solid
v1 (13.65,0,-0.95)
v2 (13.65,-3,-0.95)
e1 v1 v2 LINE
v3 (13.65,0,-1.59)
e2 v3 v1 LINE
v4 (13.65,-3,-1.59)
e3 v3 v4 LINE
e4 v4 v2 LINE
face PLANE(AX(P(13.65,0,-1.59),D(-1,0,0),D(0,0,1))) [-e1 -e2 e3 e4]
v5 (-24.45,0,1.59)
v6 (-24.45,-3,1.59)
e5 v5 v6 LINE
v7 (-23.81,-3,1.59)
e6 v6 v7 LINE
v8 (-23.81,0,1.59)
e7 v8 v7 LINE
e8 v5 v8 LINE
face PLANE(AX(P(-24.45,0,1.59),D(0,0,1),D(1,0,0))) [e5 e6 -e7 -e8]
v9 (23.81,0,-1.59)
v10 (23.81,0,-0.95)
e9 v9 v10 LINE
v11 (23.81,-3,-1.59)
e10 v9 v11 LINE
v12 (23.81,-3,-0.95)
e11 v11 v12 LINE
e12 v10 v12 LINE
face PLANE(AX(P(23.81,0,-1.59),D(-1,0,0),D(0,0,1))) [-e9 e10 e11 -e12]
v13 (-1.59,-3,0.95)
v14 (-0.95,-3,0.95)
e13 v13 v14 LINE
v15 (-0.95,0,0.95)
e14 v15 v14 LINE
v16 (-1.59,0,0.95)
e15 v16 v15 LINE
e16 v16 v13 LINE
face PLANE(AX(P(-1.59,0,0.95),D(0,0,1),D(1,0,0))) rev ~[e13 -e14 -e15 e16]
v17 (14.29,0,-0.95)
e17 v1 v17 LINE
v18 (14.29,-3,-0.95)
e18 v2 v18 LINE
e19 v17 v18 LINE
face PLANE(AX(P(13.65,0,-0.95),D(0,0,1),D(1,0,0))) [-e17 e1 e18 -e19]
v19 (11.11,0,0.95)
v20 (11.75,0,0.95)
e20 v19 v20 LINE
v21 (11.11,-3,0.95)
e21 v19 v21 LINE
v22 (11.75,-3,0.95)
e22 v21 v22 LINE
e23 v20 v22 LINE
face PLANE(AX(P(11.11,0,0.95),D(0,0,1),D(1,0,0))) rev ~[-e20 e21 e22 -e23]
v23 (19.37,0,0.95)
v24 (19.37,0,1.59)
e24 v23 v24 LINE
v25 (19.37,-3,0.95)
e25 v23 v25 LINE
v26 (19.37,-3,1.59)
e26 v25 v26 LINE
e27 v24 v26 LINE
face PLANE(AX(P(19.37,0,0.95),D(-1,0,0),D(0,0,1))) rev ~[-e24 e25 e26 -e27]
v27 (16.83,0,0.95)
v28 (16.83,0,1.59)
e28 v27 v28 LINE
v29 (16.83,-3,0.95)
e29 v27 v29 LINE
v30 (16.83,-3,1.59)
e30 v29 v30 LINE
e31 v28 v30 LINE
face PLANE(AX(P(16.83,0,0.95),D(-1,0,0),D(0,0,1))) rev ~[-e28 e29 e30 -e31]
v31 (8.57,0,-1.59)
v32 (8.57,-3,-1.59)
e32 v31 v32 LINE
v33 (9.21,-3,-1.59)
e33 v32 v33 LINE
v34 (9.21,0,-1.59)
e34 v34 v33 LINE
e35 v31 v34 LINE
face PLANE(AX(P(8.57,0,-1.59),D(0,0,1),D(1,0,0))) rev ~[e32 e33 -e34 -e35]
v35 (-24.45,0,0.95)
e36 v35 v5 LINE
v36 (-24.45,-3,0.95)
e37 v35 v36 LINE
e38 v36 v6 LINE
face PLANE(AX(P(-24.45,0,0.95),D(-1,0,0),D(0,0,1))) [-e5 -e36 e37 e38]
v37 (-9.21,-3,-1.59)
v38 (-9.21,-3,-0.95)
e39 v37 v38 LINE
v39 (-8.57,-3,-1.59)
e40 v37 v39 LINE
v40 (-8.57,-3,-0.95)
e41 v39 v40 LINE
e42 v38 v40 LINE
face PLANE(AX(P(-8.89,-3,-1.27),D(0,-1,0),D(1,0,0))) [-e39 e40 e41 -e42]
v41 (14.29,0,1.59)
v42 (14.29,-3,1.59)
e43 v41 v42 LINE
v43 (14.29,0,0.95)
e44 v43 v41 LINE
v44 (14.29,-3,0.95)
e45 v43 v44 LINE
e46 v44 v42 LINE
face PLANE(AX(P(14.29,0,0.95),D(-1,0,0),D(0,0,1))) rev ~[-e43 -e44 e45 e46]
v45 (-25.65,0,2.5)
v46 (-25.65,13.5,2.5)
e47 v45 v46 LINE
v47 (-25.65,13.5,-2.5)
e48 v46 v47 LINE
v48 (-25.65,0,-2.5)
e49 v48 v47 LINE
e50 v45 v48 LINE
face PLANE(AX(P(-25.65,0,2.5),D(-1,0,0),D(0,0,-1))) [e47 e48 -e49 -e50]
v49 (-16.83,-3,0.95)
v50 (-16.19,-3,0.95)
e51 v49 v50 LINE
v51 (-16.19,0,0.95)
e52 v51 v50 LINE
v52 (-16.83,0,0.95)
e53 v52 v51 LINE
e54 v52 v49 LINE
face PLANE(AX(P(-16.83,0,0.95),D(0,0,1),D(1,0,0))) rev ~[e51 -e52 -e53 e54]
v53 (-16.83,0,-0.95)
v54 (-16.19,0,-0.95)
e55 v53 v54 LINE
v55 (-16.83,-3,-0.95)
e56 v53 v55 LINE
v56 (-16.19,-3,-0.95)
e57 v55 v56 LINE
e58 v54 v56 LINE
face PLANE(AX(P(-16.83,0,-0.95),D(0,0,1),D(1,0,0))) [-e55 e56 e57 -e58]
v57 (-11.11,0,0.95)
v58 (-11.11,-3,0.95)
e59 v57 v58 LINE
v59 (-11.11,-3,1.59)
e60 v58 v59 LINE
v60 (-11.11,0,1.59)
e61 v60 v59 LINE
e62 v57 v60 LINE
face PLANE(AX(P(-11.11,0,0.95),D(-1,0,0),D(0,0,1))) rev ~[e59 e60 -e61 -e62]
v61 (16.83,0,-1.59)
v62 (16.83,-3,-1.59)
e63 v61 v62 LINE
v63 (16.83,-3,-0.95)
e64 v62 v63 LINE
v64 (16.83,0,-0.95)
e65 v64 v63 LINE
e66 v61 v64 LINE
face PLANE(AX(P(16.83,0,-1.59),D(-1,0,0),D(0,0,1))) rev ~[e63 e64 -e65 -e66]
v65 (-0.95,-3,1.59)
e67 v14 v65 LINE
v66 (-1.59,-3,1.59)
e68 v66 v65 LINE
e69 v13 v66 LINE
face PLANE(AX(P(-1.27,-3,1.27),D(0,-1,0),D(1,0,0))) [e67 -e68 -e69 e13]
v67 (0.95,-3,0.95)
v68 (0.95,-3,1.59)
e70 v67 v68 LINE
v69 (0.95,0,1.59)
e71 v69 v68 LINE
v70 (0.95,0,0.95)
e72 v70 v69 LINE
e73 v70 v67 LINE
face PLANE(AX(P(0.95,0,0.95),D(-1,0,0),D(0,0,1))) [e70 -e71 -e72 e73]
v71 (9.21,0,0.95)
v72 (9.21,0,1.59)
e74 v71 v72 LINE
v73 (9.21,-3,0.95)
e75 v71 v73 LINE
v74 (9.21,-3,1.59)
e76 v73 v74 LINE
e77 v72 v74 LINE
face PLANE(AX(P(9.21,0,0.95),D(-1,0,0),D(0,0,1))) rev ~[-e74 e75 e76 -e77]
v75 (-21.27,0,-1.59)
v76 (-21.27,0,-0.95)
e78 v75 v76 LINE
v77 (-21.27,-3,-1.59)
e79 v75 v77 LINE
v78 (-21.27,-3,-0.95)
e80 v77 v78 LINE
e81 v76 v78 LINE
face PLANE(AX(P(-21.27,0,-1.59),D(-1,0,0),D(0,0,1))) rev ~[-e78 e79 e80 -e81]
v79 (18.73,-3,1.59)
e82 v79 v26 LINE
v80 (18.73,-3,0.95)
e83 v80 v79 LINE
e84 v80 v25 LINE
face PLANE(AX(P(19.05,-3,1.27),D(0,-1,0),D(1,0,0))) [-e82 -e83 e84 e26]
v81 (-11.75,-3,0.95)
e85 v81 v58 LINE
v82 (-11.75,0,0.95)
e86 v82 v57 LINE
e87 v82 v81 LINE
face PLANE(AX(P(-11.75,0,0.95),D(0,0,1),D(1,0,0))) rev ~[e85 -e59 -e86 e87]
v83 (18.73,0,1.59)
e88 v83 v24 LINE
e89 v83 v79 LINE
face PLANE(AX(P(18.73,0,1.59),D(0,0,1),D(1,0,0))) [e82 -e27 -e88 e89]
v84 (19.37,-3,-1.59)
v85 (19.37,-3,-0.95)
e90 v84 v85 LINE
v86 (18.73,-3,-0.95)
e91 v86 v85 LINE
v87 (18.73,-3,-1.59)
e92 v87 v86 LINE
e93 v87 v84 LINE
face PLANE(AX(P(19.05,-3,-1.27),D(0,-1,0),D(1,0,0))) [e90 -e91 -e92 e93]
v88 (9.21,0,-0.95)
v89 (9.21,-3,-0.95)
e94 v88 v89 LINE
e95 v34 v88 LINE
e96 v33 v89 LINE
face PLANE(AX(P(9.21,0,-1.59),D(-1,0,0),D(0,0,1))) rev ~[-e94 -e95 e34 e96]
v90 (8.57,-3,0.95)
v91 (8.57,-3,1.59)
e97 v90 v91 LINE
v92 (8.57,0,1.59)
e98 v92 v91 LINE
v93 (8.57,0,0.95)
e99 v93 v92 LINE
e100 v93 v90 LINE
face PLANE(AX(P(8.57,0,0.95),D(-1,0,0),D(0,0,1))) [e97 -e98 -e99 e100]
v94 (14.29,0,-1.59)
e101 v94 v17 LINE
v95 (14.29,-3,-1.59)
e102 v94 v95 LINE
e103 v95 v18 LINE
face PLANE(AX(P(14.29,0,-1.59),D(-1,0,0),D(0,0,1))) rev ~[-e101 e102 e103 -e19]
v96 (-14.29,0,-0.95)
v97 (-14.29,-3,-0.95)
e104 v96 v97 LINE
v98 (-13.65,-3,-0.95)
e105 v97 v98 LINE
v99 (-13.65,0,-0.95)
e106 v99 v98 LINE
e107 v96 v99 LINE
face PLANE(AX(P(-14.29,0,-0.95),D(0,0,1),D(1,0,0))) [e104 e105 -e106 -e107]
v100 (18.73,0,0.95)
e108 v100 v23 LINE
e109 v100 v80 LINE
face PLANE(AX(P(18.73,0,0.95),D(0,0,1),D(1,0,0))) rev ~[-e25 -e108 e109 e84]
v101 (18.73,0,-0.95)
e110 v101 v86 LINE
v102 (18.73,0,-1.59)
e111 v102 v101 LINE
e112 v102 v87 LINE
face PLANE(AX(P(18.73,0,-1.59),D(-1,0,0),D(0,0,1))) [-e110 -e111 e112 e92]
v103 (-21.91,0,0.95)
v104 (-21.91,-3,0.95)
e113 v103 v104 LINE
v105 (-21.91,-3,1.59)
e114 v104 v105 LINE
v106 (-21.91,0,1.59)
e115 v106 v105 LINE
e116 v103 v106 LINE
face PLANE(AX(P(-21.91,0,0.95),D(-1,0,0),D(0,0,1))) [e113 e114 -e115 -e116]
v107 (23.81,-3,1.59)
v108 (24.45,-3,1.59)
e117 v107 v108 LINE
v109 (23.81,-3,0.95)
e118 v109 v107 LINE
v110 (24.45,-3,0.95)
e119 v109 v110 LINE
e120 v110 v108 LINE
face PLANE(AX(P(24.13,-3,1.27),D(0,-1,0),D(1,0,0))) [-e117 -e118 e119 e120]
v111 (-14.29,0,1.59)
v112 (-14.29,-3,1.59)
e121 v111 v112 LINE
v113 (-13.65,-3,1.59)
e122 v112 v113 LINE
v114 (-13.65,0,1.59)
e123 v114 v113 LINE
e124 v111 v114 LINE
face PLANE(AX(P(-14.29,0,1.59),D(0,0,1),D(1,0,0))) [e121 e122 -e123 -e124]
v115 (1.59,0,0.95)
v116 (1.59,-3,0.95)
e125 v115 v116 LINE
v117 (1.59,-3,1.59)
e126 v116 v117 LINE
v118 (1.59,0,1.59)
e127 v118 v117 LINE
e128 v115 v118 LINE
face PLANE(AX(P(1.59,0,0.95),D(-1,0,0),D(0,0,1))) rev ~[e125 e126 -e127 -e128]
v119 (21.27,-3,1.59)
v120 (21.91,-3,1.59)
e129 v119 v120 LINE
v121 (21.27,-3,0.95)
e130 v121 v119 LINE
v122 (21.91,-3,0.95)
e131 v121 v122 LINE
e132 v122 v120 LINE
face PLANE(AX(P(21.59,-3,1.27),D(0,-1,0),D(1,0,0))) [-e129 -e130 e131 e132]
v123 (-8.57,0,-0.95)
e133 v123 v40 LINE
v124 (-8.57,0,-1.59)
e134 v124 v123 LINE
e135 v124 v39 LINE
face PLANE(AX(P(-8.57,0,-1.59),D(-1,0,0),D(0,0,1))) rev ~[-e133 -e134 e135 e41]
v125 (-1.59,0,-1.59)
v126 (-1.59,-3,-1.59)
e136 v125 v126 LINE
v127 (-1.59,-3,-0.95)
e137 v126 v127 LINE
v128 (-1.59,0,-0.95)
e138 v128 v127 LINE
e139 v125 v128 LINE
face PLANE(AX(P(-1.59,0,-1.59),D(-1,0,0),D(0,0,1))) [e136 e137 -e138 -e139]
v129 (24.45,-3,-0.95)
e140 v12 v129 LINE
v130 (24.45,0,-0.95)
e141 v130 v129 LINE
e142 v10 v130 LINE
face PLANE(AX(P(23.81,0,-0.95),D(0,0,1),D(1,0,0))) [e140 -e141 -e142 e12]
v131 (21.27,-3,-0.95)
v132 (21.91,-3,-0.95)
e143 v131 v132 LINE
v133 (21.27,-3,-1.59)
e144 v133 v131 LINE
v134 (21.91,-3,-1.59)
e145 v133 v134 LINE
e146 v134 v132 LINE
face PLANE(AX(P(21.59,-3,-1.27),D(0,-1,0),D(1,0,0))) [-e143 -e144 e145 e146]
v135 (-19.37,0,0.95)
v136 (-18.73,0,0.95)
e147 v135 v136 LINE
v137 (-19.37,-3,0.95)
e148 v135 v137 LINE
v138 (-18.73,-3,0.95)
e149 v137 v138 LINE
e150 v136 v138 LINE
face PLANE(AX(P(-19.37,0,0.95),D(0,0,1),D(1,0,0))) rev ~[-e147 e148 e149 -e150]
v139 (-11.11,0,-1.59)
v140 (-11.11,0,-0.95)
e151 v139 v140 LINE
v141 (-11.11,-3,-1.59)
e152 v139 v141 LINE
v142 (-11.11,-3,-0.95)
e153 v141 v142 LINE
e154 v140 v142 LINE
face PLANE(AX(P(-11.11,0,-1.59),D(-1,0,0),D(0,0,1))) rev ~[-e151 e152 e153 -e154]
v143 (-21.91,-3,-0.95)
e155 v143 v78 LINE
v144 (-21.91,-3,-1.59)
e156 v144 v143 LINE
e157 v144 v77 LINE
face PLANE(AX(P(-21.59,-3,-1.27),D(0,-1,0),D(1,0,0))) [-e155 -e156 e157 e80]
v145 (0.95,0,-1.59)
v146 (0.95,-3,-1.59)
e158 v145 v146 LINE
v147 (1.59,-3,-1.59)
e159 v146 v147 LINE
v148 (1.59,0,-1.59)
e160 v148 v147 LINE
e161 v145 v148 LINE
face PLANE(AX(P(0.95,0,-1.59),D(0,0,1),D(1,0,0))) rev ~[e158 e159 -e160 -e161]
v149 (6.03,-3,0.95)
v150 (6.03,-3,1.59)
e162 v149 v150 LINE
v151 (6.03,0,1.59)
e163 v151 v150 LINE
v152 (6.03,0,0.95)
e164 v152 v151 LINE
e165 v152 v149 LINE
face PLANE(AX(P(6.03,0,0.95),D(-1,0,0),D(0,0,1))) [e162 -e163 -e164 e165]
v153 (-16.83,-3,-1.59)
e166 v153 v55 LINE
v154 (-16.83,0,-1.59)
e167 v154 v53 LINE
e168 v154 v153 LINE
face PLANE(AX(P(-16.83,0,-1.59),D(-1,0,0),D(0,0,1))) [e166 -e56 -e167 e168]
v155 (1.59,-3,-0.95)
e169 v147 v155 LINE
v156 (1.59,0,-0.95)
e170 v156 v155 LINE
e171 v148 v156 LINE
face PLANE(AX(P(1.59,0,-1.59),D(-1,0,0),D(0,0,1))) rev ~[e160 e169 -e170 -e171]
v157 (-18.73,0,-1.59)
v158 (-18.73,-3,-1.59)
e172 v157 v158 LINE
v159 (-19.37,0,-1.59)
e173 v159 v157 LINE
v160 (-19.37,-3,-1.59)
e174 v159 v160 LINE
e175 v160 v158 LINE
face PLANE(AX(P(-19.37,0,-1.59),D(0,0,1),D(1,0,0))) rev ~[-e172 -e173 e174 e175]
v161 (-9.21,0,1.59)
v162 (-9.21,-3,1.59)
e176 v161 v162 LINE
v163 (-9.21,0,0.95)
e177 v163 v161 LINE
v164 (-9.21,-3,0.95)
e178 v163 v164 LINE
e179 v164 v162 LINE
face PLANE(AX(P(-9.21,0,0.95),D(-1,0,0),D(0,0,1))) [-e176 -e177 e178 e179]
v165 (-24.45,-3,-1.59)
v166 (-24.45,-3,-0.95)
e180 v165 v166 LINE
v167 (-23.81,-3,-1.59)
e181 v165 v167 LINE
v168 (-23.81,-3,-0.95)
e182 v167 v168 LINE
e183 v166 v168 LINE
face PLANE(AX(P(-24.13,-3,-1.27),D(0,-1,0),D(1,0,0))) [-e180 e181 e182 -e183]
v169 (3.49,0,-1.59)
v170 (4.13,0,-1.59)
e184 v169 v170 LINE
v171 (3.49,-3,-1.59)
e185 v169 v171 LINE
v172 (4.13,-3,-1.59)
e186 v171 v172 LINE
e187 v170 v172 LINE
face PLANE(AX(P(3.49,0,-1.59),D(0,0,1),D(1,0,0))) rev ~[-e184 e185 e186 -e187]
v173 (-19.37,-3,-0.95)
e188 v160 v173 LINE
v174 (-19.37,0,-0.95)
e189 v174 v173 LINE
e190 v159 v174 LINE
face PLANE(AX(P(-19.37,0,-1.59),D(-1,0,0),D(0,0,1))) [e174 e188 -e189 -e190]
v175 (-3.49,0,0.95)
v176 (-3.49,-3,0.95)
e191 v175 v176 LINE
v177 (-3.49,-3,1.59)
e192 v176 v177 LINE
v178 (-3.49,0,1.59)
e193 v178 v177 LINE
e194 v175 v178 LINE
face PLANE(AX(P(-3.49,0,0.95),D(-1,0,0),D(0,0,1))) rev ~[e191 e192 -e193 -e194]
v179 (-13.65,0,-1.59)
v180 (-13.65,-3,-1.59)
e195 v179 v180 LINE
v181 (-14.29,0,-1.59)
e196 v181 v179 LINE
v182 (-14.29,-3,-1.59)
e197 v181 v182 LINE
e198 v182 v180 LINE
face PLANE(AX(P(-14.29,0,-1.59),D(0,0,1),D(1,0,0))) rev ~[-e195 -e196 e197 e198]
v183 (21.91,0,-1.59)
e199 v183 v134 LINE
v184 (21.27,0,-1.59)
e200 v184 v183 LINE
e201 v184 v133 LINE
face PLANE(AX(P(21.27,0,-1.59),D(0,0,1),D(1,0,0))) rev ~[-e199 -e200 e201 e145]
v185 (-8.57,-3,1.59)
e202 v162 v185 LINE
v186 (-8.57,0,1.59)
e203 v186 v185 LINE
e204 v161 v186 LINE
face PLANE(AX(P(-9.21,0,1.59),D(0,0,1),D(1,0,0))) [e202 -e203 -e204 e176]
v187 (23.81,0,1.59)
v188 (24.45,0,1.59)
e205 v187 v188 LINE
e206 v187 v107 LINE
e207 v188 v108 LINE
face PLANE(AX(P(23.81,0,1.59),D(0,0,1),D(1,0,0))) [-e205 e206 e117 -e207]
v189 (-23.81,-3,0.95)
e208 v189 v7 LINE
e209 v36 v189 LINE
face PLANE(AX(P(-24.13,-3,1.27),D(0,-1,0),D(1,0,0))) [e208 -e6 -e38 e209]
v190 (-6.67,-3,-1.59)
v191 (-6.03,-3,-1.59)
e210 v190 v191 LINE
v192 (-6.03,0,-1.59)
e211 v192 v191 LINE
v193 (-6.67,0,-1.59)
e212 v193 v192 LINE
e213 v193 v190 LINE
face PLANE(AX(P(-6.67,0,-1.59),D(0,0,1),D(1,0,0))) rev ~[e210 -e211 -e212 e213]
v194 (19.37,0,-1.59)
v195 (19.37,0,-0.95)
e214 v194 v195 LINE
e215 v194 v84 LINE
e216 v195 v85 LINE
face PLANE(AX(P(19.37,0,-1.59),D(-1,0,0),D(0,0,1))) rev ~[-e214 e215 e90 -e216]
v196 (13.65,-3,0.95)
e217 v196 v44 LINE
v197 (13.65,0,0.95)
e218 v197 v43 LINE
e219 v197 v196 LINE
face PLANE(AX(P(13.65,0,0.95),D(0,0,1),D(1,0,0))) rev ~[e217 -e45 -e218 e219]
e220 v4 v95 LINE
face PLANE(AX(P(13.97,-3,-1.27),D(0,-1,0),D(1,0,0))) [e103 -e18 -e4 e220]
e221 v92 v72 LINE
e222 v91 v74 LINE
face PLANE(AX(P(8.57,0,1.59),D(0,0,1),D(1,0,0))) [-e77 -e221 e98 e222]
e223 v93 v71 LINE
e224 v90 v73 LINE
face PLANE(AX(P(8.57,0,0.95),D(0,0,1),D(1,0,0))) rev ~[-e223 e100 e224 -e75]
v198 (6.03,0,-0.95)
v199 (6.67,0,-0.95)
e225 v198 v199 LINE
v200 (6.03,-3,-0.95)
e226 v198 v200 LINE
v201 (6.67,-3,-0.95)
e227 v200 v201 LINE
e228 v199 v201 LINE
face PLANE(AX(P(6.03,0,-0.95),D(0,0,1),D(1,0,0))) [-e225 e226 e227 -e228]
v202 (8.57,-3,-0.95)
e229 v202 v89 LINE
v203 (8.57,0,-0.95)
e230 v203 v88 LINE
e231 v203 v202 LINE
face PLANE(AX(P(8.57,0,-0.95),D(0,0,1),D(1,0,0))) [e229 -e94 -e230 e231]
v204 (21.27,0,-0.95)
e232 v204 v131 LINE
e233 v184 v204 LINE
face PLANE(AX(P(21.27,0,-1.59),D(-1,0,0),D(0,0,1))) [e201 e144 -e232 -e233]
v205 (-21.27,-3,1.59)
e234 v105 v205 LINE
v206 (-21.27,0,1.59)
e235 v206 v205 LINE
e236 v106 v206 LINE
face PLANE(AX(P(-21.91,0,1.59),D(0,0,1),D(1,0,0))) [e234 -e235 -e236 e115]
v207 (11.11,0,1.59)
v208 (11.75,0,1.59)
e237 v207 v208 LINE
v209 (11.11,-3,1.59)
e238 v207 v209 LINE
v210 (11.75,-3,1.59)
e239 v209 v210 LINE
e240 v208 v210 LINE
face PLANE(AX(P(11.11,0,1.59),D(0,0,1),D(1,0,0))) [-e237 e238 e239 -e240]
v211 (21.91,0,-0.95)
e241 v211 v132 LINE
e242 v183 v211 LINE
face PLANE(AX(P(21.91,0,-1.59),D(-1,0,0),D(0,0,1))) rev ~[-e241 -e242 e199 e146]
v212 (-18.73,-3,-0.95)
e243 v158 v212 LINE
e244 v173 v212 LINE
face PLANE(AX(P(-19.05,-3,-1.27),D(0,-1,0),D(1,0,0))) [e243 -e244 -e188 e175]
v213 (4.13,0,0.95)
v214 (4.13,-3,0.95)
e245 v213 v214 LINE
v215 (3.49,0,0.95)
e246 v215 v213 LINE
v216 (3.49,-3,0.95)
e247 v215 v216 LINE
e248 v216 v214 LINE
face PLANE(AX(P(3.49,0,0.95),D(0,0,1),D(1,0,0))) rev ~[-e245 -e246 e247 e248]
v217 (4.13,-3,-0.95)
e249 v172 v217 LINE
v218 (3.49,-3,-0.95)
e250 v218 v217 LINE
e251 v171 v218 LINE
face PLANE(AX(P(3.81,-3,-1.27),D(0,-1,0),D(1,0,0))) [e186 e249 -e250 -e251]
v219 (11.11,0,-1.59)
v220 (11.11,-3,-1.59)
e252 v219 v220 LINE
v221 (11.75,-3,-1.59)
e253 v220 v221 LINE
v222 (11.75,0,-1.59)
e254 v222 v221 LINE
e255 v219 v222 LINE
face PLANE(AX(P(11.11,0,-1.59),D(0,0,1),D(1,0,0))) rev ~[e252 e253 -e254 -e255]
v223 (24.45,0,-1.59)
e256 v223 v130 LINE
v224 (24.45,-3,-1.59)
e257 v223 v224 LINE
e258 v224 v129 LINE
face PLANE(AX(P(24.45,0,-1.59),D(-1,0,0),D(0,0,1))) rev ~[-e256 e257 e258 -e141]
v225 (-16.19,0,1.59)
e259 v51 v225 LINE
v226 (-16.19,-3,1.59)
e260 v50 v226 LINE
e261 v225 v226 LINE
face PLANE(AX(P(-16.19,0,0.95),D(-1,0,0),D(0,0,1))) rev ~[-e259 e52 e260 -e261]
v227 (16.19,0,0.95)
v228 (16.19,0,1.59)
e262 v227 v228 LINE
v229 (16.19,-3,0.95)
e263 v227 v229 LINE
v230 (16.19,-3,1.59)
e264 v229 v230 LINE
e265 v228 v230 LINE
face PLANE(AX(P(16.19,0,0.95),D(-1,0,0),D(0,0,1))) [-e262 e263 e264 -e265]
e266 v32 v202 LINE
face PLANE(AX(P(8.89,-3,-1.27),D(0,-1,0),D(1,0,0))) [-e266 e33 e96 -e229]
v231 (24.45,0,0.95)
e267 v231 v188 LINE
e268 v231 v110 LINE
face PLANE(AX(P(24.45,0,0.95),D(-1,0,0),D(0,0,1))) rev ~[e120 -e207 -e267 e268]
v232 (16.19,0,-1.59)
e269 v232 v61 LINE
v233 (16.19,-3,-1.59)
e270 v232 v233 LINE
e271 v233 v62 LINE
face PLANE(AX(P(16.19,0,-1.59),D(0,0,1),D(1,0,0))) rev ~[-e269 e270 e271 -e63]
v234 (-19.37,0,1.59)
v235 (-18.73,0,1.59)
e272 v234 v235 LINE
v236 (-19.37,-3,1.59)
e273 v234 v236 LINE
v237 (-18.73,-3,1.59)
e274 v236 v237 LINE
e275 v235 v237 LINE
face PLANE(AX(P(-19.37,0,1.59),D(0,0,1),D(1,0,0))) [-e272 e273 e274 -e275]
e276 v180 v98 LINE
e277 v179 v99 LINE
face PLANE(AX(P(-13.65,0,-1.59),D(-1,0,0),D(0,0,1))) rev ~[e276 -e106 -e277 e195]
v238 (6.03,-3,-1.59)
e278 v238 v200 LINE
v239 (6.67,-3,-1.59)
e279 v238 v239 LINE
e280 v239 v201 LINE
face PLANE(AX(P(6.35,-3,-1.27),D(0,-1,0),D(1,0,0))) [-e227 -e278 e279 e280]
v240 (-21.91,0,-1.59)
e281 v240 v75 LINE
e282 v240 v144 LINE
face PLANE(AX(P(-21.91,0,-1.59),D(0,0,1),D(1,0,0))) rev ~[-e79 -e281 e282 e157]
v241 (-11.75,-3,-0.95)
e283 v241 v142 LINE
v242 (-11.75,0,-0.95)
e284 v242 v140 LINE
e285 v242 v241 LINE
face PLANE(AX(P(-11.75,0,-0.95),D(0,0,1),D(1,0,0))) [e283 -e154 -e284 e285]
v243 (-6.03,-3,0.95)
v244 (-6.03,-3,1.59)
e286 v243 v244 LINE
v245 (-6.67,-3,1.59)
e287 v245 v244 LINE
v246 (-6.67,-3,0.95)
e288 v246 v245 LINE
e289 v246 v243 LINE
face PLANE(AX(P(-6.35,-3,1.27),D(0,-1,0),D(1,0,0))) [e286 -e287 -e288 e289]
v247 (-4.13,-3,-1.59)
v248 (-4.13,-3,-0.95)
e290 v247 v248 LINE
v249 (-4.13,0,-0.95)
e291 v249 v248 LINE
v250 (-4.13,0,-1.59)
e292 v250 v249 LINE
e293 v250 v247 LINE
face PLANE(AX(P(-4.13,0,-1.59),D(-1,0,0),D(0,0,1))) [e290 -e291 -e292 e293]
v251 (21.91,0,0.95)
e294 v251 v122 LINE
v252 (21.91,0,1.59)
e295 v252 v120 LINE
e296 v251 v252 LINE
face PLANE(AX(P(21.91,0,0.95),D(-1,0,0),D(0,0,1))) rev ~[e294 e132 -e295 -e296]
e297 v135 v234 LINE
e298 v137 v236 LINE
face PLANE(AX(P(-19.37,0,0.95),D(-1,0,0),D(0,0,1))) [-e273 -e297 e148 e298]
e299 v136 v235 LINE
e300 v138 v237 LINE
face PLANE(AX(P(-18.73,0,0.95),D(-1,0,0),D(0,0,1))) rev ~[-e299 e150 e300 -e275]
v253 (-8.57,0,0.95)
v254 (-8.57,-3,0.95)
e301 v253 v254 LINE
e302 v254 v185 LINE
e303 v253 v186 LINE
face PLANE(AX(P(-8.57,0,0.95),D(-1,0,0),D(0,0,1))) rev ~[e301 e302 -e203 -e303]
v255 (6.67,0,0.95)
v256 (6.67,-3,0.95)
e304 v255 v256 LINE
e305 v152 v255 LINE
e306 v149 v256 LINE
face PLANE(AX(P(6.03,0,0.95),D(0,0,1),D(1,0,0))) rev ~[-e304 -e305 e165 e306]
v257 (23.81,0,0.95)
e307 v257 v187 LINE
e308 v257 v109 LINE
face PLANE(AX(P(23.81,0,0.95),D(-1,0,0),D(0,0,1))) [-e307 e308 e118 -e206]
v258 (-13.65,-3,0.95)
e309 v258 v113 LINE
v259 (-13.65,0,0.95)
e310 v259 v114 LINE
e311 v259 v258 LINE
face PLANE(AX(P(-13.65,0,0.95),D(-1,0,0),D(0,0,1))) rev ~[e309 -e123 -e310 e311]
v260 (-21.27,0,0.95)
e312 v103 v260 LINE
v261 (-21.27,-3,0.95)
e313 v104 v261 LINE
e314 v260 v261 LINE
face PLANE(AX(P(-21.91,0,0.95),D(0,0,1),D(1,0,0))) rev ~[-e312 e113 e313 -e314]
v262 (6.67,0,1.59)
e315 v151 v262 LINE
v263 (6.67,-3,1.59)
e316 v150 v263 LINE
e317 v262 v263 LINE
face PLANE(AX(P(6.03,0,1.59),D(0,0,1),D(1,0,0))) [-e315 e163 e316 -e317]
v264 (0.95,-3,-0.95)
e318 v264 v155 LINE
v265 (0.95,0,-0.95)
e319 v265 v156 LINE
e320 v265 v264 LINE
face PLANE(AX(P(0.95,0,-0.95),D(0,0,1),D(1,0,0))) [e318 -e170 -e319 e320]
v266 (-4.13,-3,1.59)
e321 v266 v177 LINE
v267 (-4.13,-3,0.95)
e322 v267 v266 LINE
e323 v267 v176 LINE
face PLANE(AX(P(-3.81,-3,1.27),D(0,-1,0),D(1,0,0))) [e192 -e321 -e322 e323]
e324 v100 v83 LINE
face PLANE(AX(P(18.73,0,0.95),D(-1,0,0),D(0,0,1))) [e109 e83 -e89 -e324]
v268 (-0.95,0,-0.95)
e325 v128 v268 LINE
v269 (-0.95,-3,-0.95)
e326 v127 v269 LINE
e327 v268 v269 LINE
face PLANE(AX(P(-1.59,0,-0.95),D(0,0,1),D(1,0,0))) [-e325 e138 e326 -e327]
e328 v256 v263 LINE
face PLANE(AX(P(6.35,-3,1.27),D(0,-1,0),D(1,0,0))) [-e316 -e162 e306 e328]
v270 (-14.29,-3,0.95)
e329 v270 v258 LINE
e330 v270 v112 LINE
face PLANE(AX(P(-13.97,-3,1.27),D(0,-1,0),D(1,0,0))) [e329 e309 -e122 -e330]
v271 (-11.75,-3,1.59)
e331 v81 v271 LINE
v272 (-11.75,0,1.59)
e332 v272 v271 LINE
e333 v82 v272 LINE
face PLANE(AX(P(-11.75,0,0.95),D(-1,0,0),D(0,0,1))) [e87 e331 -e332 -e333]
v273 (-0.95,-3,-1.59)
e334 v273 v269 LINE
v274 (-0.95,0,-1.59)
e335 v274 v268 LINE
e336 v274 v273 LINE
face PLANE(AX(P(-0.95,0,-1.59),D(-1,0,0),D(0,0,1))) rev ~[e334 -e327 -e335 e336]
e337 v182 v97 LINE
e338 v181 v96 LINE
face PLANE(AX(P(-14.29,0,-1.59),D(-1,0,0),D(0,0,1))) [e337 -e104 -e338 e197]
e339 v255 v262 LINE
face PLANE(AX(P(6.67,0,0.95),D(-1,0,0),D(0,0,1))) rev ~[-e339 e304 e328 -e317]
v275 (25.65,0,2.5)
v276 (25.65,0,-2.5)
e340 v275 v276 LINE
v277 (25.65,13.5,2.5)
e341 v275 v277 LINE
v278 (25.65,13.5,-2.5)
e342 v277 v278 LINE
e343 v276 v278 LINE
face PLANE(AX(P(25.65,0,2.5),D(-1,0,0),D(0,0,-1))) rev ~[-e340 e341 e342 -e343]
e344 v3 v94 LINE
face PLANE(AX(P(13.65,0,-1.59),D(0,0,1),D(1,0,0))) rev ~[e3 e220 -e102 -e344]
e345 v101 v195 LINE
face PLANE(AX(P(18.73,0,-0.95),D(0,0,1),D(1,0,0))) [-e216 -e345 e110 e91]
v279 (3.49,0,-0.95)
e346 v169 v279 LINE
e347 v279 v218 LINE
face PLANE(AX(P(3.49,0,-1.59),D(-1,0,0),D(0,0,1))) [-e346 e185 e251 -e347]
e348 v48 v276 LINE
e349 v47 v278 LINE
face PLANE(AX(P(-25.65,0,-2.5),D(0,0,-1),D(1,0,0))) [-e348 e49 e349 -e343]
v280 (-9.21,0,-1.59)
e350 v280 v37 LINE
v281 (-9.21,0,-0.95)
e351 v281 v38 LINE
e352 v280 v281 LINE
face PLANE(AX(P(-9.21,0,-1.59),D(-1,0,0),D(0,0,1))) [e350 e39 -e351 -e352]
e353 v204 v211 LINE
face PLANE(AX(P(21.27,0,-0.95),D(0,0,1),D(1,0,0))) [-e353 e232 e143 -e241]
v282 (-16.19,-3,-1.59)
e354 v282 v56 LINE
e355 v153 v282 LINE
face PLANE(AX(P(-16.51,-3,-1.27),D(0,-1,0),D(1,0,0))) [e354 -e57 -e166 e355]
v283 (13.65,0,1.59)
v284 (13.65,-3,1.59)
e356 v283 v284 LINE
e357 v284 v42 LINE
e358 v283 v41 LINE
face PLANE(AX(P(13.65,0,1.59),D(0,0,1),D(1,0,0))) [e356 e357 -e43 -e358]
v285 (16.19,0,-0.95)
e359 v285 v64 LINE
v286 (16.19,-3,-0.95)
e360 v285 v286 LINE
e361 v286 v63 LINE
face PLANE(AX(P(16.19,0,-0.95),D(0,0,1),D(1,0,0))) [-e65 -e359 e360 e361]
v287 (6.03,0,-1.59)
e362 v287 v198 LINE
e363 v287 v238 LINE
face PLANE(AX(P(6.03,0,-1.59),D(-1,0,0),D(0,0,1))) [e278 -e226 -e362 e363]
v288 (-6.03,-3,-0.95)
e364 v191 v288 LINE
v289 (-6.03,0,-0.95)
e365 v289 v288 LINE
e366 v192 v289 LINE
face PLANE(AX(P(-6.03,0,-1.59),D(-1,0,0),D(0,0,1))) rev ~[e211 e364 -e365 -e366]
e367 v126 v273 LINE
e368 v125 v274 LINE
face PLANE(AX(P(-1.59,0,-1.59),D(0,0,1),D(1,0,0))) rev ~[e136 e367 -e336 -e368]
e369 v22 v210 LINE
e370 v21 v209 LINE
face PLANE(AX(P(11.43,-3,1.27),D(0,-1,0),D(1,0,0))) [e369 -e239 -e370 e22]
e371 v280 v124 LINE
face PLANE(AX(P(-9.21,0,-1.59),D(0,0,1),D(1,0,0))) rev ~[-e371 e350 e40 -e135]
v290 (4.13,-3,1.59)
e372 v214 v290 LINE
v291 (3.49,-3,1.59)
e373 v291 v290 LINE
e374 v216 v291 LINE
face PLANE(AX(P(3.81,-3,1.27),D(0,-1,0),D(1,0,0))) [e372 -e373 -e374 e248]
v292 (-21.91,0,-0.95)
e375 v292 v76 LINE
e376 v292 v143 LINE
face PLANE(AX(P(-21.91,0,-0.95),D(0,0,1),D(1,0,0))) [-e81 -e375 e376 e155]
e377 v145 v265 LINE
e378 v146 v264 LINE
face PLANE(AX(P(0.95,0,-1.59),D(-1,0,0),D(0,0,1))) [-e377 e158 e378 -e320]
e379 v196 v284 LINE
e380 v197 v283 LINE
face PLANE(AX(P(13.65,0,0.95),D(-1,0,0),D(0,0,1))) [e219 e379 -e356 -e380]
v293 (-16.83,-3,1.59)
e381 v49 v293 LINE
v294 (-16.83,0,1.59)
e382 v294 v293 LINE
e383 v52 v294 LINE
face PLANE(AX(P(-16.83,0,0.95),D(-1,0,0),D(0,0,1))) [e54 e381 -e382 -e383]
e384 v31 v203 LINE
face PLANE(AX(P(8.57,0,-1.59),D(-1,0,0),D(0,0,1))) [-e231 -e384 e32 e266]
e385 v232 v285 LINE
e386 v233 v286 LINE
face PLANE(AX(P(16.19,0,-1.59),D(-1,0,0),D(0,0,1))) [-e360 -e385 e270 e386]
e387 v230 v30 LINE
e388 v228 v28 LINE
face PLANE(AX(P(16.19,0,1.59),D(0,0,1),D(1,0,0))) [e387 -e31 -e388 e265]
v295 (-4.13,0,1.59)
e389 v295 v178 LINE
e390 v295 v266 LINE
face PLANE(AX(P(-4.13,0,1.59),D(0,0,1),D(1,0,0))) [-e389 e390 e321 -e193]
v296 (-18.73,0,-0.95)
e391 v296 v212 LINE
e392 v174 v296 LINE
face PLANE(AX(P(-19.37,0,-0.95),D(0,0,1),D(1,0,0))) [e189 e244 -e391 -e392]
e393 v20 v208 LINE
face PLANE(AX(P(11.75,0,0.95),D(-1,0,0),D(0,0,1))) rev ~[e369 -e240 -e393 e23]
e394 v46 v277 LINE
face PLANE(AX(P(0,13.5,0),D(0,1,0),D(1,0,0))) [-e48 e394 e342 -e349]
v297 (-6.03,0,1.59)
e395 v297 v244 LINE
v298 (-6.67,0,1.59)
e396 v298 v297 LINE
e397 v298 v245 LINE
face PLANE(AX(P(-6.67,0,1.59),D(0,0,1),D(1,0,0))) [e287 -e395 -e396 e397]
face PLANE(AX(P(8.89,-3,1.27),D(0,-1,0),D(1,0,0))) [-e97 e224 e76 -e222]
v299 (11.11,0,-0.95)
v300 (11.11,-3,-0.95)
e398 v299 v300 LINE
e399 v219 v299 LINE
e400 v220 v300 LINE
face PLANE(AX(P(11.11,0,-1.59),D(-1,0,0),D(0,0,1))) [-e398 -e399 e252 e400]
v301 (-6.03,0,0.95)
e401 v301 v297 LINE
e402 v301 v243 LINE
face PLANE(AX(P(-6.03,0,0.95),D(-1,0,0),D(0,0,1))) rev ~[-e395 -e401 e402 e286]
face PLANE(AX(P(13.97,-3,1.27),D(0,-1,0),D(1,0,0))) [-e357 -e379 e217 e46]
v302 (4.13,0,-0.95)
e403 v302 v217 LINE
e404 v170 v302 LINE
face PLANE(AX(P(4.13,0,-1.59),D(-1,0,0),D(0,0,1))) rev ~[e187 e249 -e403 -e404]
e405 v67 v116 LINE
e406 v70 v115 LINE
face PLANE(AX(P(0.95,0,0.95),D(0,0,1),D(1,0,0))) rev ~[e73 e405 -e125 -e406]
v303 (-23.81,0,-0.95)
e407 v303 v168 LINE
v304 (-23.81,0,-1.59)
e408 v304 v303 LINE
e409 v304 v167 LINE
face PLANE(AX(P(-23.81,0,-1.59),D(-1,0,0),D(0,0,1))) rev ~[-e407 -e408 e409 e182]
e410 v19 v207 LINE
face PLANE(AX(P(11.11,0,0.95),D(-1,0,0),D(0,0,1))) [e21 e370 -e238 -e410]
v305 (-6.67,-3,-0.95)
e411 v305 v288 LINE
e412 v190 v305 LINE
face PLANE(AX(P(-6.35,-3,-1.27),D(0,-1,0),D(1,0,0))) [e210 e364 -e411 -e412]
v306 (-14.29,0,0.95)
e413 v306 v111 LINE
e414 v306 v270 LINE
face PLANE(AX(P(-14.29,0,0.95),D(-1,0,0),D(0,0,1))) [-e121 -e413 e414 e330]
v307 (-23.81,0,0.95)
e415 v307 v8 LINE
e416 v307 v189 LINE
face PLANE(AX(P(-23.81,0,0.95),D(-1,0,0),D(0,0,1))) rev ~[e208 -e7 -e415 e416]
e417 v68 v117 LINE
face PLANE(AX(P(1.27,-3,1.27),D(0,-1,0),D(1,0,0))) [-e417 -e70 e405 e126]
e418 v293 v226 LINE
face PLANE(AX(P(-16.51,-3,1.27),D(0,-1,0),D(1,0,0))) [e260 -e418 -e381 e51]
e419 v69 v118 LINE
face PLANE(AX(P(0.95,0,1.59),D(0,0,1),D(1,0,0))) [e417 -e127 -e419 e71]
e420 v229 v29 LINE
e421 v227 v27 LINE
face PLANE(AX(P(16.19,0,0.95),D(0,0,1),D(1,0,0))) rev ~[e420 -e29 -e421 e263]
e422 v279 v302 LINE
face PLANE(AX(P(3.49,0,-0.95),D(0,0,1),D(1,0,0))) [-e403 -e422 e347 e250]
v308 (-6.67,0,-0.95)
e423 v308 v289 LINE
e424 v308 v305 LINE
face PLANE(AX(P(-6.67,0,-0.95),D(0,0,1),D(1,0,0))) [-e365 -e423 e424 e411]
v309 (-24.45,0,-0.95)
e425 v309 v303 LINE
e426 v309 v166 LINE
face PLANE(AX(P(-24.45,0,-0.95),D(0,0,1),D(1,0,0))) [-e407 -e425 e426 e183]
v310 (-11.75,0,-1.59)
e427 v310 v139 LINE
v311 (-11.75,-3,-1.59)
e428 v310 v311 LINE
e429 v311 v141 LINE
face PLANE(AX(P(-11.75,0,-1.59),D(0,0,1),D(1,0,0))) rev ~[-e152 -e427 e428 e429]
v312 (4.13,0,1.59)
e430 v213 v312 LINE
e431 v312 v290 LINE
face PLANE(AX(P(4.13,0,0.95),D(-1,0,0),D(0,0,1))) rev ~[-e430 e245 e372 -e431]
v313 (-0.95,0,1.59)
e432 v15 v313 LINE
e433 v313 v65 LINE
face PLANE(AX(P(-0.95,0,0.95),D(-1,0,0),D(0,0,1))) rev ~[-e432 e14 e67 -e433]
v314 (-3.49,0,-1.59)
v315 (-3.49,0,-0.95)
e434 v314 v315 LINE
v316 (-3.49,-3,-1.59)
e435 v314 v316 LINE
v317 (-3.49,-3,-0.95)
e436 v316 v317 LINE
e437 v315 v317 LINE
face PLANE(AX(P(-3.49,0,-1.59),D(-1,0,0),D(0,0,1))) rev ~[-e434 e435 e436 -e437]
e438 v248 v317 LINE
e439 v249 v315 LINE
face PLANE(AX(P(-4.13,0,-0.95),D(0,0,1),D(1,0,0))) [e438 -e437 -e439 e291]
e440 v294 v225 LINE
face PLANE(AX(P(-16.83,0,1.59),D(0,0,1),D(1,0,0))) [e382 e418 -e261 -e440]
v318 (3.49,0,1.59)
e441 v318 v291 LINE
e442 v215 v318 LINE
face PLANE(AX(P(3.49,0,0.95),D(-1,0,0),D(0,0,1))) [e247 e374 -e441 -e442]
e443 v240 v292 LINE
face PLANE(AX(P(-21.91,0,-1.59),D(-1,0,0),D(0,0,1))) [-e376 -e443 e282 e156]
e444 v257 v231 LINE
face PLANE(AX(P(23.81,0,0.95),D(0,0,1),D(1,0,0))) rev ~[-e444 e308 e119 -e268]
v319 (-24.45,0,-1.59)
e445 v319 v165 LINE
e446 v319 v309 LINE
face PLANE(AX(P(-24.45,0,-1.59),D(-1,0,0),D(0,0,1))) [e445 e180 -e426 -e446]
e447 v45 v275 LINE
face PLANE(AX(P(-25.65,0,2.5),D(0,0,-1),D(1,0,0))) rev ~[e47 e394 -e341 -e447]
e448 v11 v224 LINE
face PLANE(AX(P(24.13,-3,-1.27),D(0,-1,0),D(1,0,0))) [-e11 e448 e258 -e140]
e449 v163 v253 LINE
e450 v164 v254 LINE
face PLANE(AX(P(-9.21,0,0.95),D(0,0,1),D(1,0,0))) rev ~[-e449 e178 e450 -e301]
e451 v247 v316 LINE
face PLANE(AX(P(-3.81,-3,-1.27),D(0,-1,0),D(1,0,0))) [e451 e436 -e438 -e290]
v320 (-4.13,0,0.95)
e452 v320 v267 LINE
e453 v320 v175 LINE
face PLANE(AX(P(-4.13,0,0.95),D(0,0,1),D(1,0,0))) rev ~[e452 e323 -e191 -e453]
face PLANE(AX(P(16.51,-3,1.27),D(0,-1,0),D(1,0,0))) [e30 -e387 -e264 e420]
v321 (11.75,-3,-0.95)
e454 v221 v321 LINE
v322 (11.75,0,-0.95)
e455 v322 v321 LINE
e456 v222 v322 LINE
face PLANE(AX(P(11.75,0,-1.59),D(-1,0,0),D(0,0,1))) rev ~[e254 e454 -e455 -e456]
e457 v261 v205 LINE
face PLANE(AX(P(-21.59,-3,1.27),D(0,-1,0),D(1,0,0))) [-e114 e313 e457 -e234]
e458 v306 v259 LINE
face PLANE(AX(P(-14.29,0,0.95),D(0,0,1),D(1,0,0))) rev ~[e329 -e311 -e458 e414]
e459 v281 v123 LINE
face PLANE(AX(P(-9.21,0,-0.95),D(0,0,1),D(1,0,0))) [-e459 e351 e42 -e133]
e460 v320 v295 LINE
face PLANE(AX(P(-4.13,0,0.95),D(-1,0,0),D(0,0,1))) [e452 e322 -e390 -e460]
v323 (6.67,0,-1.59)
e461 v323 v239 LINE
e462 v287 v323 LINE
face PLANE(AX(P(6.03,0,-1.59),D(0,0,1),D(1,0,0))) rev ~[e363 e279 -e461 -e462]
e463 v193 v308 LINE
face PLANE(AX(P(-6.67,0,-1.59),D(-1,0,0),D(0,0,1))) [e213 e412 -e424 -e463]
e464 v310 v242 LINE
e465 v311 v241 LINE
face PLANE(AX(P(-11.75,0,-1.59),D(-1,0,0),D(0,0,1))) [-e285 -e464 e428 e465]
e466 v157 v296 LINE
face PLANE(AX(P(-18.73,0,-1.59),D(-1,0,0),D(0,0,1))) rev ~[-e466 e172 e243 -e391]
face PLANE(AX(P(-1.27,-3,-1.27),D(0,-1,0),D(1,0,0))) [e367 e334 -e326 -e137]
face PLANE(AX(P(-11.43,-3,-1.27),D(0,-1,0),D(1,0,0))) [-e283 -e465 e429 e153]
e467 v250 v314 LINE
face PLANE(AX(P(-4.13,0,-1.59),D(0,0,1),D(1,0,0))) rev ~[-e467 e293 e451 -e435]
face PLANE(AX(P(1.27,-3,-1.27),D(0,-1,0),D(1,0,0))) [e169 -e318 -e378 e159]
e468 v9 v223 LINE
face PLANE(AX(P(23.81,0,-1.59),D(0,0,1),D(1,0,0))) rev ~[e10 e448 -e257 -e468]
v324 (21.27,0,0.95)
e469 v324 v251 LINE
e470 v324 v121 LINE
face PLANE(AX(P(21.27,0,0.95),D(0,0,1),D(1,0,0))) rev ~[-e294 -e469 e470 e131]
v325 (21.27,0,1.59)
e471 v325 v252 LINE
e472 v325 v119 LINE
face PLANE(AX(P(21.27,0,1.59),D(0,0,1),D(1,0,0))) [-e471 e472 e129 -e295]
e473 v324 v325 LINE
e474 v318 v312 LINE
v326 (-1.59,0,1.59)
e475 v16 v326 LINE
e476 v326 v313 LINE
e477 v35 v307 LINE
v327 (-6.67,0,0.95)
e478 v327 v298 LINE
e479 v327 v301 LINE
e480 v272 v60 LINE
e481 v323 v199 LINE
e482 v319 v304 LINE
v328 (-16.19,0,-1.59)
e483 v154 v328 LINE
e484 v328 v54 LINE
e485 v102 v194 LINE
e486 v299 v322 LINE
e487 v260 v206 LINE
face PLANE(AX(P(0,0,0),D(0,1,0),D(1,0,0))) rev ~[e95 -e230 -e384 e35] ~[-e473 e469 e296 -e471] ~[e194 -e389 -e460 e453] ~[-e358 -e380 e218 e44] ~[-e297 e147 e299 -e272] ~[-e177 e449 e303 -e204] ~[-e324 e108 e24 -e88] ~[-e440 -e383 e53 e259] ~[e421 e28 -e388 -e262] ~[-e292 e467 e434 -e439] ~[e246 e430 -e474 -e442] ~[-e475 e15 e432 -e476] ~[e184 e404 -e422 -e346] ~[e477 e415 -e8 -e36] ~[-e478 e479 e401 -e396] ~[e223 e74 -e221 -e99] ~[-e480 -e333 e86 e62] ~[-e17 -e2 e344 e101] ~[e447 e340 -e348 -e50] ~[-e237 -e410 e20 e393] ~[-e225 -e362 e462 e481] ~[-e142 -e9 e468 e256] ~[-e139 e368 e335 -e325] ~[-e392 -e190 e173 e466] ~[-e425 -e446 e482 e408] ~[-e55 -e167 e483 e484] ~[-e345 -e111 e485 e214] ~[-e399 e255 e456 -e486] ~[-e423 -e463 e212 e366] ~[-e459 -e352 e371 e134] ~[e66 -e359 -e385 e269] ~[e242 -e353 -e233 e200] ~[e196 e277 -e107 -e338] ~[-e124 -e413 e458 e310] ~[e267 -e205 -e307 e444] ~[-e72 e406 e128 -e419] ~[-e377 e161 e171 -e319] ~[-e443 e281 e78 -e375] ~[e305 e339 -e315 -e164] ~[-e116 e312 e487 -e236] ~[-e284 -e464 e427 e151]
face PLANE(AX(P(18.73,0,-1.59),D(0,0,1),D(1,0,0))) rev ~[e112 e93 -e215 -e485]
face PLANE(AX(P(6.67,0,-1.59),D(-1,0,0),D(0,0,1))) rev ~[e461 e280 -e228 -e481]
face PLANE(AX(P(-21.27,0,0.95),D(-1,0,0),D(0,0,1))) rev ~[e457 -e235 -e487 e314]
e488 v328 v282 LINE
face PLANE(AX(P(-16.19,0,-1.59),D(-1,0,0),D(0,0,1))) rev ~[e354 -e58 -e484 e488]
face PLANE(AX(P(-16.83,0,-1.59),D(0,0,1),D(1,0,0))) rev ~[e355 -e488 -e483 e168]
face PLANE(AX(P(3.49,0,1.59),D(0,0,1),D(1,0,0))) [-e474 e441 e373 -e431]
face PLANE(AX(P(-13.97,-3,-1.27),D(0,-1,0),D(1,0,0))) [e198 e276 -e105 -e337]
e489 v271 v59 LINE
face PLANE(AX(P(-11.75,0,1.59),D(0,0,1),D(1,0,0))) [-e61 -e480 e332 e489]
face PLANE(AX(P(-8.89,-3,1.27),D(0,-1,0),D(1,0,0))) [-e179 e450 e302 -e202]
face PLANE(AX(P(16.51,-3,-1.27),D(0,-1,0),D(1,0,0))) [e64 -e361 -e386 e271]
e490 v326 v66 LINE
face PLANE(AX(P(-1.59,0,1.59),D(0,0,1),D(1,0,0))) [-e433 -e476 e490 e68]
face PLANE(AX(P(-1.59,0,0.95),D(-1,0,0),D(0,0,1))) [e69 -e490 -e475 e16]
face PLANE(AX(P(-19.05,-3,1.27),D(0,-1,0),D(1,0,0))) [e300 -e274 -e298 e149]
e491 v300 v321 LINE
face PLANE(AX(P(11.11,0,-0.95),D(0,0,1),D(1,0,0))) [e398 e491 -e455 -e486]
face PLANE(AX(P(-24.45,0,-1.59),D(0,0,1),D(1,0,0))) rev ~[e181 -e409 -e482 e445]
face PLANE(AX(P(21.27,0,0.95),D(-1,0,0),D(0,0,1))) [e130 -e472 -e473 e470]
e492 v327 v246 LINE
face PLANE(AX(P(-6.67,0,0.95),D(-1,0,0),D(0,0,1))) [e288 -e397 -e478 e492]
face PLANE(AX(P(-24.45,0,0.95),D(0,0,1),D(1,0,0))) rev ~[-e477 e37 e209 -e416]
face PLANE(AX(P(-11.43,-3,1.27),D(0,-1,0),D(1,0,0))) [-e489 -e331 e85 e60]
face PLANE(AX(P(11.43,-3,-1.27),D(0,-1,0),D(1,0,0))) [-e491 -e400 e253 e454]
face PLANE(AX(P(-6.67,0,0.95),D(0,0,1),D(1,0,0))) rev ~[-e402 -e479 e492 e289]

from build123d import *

# Parameters (mm, degrees)
SKETCH1_W           = 51.3
SKETCH1_H           = 5
BOSS_EXTRUDE1_DEPTH = 13.5
SKETCH2_W           = 0.64
SKETCH2_H           = 0.64
BOSS_EXTRUDE2_DEPTH = 3


with BuildPart() as part:
    # Sketch1 → Boss-Extrude1 (new body)
    with BuildSketch(Plane(origin=(0, 0, 0), x_dir=(1, 0, 0), z_dir=(0, 1, 0))):
        Rectangle(SKETCH1_W, SKETCH1_H)
    extrude(amount=BOSS_EXTRUDE1_DEPTH)

    # Sketch2 → Boss-Extrude2 (add)
    with BuildSketch(Plane.XZ):
        with Locations((-21.59, 1.27)):
            Rectangle(SKETCH2_W, SKETCH2_H)
        with Locations((-24.13, 1.27)):
            Rectangle(SKETCH2_W, SKETCH2_H)
        with Locations((-19.05, 1.27)):
            Rectangle(SKETCH2_W, SKETCH2_H)
        with Locations((-16.51, 1.27)):
            Rectangle(SKETCH2_W, SKETCH2_H)
        with Locations((-13.97, 1.27)):
            Rectangle(SKETCH2_W, SKETCH2_H)
        with Locations((-11.43, 1.27)):
            Rectangle(SKETCH2_W, SKETCH2_H)
        with Locations((-8.89, 1.27)):
            Rectangle(SKETCH2_W, SKETCH2_H)
        with Locations((-6.35, 1.27)):
            Rectangle(SKETCH2_W, SKETCH2_H)
        with Locations((-3.81, 1.27)):
            Rectangle(SKETCH2_W, SKETCH2_H)
        with Locations((-1.27, 1.27)):
            Rectangle(SKETCH2_W, SKETCH2_H)
        with Locations((24.13, 1.27)):
            Rectangle(SKETCH2_W, SKETCH2_H)
        with Locations((1.27, 1.27)):
            Rectangle(SKETCH2_W, SKETCH2_H)
        with Locations((3.81, 1.27)):
            Rectangle(SKETCH2_W, SKETCH2_H)
        with Locations((6.35, 1.27)):
            Rectangle(SKETCH2_W, SKETCH2_H)
        with Locations((8.89, 1.27)):
            Rectangle(SKETCH2_W, SKETCH2_H)
        with Locations((11.43, 1.27)):
            Rectangle(SKETCH2_W, SKETCH2_H)
        with Locations((13.97, 1.27)):
            Rectangle(SKETCH2_W, SKETCH2_H)
        with Locations((16.51, 1.27)):
            Rectangle(SKETCH2_W, SKETCH2_H)
        with Locations((19.05, 1.27)):
            Rectangle(SKETCH2_W, SKETCH2_H)
        with Locations((21.59, 1.27)):
            Rectangle(SKETCH2_W, SKETCH2_H)
        with Locations((21.59, -1.27)):
            Rectangle(SKETCH2_W, SKETCH2_H)
        with Locations((19.05, -1.27)):
            Rectangle(SKETCH2_W, SKETCH2_H)
        with Locations((16.51, -1.27)):
            Rectangle(SKETCH2_W, SKETCH2_H)
        with Locations((13.97, -1.27)):
            Rectangle(SKETCH2_W, SKETCH2_H)
        with Locations((11.43, -1.27)):
            Rectangle(SKETCH2_W, SKETCH2_H)
        with Locations((8.89, -1.27)):
            Rectangle(SKETCH2_W, SKETCH2_H)
        with Locations((6.35, -1.27)):
            Rectangle(SKETCH2_W, SKETCH2_H)
        with Locations((3.81, -1.27)):
            Rectangle(SKETCH2_W, SKETCH2_H)
        with Locations((1.27, -1.27)):
            Rectangle(SKETCH2_W, SKETCH2_H)
        with Locations((24.13, -1.27)):
            Rectangle(SKETCH2_W, SKETCH2_H)
        with Locations((-1.27, -1.27)):
            Rectangle(SKETCH2_W, SKETCH2_H)
        with Locations((-3.81, -1.27)):
            Rectangle(SKETCH2_W, SKETCH2_H)
        with Locations((-6.35, -1.27)):
            Rectangle(SKETCH2_W, SKETCH2_H)
        with Locations((-8.89, -1.27)):
            Rectangle(SKETCH2_W, SKETCH2_H)
        with Locations((-11.43, -1.27)):
            Rectangle(SKETCH2_W, SKETCH2_H)
        with Locations((-13.97, -1.27)):
            Rectangle(SKETCH2_W, SKETCH2_H)
        with Locations((-16.51, -1.27)):
            Rectangle(SKETCH2_W, SKETCH2_H)
        with Locations((-19.05, -1.27)):
            Rectangle(SKETCH2_W, SKETCH2_H)
        with Locations((-21.59, -1.27)):
            Rectangle(SKETCH2_W, SKETCH2_H)
        with Locations((-24.13, -1.27)):
            Rectangle(SKETCH2_W, SKETCH2_H)
    extrude(amount=BOSS_EXTRUDE2_DEPTH)


solid = part.part
